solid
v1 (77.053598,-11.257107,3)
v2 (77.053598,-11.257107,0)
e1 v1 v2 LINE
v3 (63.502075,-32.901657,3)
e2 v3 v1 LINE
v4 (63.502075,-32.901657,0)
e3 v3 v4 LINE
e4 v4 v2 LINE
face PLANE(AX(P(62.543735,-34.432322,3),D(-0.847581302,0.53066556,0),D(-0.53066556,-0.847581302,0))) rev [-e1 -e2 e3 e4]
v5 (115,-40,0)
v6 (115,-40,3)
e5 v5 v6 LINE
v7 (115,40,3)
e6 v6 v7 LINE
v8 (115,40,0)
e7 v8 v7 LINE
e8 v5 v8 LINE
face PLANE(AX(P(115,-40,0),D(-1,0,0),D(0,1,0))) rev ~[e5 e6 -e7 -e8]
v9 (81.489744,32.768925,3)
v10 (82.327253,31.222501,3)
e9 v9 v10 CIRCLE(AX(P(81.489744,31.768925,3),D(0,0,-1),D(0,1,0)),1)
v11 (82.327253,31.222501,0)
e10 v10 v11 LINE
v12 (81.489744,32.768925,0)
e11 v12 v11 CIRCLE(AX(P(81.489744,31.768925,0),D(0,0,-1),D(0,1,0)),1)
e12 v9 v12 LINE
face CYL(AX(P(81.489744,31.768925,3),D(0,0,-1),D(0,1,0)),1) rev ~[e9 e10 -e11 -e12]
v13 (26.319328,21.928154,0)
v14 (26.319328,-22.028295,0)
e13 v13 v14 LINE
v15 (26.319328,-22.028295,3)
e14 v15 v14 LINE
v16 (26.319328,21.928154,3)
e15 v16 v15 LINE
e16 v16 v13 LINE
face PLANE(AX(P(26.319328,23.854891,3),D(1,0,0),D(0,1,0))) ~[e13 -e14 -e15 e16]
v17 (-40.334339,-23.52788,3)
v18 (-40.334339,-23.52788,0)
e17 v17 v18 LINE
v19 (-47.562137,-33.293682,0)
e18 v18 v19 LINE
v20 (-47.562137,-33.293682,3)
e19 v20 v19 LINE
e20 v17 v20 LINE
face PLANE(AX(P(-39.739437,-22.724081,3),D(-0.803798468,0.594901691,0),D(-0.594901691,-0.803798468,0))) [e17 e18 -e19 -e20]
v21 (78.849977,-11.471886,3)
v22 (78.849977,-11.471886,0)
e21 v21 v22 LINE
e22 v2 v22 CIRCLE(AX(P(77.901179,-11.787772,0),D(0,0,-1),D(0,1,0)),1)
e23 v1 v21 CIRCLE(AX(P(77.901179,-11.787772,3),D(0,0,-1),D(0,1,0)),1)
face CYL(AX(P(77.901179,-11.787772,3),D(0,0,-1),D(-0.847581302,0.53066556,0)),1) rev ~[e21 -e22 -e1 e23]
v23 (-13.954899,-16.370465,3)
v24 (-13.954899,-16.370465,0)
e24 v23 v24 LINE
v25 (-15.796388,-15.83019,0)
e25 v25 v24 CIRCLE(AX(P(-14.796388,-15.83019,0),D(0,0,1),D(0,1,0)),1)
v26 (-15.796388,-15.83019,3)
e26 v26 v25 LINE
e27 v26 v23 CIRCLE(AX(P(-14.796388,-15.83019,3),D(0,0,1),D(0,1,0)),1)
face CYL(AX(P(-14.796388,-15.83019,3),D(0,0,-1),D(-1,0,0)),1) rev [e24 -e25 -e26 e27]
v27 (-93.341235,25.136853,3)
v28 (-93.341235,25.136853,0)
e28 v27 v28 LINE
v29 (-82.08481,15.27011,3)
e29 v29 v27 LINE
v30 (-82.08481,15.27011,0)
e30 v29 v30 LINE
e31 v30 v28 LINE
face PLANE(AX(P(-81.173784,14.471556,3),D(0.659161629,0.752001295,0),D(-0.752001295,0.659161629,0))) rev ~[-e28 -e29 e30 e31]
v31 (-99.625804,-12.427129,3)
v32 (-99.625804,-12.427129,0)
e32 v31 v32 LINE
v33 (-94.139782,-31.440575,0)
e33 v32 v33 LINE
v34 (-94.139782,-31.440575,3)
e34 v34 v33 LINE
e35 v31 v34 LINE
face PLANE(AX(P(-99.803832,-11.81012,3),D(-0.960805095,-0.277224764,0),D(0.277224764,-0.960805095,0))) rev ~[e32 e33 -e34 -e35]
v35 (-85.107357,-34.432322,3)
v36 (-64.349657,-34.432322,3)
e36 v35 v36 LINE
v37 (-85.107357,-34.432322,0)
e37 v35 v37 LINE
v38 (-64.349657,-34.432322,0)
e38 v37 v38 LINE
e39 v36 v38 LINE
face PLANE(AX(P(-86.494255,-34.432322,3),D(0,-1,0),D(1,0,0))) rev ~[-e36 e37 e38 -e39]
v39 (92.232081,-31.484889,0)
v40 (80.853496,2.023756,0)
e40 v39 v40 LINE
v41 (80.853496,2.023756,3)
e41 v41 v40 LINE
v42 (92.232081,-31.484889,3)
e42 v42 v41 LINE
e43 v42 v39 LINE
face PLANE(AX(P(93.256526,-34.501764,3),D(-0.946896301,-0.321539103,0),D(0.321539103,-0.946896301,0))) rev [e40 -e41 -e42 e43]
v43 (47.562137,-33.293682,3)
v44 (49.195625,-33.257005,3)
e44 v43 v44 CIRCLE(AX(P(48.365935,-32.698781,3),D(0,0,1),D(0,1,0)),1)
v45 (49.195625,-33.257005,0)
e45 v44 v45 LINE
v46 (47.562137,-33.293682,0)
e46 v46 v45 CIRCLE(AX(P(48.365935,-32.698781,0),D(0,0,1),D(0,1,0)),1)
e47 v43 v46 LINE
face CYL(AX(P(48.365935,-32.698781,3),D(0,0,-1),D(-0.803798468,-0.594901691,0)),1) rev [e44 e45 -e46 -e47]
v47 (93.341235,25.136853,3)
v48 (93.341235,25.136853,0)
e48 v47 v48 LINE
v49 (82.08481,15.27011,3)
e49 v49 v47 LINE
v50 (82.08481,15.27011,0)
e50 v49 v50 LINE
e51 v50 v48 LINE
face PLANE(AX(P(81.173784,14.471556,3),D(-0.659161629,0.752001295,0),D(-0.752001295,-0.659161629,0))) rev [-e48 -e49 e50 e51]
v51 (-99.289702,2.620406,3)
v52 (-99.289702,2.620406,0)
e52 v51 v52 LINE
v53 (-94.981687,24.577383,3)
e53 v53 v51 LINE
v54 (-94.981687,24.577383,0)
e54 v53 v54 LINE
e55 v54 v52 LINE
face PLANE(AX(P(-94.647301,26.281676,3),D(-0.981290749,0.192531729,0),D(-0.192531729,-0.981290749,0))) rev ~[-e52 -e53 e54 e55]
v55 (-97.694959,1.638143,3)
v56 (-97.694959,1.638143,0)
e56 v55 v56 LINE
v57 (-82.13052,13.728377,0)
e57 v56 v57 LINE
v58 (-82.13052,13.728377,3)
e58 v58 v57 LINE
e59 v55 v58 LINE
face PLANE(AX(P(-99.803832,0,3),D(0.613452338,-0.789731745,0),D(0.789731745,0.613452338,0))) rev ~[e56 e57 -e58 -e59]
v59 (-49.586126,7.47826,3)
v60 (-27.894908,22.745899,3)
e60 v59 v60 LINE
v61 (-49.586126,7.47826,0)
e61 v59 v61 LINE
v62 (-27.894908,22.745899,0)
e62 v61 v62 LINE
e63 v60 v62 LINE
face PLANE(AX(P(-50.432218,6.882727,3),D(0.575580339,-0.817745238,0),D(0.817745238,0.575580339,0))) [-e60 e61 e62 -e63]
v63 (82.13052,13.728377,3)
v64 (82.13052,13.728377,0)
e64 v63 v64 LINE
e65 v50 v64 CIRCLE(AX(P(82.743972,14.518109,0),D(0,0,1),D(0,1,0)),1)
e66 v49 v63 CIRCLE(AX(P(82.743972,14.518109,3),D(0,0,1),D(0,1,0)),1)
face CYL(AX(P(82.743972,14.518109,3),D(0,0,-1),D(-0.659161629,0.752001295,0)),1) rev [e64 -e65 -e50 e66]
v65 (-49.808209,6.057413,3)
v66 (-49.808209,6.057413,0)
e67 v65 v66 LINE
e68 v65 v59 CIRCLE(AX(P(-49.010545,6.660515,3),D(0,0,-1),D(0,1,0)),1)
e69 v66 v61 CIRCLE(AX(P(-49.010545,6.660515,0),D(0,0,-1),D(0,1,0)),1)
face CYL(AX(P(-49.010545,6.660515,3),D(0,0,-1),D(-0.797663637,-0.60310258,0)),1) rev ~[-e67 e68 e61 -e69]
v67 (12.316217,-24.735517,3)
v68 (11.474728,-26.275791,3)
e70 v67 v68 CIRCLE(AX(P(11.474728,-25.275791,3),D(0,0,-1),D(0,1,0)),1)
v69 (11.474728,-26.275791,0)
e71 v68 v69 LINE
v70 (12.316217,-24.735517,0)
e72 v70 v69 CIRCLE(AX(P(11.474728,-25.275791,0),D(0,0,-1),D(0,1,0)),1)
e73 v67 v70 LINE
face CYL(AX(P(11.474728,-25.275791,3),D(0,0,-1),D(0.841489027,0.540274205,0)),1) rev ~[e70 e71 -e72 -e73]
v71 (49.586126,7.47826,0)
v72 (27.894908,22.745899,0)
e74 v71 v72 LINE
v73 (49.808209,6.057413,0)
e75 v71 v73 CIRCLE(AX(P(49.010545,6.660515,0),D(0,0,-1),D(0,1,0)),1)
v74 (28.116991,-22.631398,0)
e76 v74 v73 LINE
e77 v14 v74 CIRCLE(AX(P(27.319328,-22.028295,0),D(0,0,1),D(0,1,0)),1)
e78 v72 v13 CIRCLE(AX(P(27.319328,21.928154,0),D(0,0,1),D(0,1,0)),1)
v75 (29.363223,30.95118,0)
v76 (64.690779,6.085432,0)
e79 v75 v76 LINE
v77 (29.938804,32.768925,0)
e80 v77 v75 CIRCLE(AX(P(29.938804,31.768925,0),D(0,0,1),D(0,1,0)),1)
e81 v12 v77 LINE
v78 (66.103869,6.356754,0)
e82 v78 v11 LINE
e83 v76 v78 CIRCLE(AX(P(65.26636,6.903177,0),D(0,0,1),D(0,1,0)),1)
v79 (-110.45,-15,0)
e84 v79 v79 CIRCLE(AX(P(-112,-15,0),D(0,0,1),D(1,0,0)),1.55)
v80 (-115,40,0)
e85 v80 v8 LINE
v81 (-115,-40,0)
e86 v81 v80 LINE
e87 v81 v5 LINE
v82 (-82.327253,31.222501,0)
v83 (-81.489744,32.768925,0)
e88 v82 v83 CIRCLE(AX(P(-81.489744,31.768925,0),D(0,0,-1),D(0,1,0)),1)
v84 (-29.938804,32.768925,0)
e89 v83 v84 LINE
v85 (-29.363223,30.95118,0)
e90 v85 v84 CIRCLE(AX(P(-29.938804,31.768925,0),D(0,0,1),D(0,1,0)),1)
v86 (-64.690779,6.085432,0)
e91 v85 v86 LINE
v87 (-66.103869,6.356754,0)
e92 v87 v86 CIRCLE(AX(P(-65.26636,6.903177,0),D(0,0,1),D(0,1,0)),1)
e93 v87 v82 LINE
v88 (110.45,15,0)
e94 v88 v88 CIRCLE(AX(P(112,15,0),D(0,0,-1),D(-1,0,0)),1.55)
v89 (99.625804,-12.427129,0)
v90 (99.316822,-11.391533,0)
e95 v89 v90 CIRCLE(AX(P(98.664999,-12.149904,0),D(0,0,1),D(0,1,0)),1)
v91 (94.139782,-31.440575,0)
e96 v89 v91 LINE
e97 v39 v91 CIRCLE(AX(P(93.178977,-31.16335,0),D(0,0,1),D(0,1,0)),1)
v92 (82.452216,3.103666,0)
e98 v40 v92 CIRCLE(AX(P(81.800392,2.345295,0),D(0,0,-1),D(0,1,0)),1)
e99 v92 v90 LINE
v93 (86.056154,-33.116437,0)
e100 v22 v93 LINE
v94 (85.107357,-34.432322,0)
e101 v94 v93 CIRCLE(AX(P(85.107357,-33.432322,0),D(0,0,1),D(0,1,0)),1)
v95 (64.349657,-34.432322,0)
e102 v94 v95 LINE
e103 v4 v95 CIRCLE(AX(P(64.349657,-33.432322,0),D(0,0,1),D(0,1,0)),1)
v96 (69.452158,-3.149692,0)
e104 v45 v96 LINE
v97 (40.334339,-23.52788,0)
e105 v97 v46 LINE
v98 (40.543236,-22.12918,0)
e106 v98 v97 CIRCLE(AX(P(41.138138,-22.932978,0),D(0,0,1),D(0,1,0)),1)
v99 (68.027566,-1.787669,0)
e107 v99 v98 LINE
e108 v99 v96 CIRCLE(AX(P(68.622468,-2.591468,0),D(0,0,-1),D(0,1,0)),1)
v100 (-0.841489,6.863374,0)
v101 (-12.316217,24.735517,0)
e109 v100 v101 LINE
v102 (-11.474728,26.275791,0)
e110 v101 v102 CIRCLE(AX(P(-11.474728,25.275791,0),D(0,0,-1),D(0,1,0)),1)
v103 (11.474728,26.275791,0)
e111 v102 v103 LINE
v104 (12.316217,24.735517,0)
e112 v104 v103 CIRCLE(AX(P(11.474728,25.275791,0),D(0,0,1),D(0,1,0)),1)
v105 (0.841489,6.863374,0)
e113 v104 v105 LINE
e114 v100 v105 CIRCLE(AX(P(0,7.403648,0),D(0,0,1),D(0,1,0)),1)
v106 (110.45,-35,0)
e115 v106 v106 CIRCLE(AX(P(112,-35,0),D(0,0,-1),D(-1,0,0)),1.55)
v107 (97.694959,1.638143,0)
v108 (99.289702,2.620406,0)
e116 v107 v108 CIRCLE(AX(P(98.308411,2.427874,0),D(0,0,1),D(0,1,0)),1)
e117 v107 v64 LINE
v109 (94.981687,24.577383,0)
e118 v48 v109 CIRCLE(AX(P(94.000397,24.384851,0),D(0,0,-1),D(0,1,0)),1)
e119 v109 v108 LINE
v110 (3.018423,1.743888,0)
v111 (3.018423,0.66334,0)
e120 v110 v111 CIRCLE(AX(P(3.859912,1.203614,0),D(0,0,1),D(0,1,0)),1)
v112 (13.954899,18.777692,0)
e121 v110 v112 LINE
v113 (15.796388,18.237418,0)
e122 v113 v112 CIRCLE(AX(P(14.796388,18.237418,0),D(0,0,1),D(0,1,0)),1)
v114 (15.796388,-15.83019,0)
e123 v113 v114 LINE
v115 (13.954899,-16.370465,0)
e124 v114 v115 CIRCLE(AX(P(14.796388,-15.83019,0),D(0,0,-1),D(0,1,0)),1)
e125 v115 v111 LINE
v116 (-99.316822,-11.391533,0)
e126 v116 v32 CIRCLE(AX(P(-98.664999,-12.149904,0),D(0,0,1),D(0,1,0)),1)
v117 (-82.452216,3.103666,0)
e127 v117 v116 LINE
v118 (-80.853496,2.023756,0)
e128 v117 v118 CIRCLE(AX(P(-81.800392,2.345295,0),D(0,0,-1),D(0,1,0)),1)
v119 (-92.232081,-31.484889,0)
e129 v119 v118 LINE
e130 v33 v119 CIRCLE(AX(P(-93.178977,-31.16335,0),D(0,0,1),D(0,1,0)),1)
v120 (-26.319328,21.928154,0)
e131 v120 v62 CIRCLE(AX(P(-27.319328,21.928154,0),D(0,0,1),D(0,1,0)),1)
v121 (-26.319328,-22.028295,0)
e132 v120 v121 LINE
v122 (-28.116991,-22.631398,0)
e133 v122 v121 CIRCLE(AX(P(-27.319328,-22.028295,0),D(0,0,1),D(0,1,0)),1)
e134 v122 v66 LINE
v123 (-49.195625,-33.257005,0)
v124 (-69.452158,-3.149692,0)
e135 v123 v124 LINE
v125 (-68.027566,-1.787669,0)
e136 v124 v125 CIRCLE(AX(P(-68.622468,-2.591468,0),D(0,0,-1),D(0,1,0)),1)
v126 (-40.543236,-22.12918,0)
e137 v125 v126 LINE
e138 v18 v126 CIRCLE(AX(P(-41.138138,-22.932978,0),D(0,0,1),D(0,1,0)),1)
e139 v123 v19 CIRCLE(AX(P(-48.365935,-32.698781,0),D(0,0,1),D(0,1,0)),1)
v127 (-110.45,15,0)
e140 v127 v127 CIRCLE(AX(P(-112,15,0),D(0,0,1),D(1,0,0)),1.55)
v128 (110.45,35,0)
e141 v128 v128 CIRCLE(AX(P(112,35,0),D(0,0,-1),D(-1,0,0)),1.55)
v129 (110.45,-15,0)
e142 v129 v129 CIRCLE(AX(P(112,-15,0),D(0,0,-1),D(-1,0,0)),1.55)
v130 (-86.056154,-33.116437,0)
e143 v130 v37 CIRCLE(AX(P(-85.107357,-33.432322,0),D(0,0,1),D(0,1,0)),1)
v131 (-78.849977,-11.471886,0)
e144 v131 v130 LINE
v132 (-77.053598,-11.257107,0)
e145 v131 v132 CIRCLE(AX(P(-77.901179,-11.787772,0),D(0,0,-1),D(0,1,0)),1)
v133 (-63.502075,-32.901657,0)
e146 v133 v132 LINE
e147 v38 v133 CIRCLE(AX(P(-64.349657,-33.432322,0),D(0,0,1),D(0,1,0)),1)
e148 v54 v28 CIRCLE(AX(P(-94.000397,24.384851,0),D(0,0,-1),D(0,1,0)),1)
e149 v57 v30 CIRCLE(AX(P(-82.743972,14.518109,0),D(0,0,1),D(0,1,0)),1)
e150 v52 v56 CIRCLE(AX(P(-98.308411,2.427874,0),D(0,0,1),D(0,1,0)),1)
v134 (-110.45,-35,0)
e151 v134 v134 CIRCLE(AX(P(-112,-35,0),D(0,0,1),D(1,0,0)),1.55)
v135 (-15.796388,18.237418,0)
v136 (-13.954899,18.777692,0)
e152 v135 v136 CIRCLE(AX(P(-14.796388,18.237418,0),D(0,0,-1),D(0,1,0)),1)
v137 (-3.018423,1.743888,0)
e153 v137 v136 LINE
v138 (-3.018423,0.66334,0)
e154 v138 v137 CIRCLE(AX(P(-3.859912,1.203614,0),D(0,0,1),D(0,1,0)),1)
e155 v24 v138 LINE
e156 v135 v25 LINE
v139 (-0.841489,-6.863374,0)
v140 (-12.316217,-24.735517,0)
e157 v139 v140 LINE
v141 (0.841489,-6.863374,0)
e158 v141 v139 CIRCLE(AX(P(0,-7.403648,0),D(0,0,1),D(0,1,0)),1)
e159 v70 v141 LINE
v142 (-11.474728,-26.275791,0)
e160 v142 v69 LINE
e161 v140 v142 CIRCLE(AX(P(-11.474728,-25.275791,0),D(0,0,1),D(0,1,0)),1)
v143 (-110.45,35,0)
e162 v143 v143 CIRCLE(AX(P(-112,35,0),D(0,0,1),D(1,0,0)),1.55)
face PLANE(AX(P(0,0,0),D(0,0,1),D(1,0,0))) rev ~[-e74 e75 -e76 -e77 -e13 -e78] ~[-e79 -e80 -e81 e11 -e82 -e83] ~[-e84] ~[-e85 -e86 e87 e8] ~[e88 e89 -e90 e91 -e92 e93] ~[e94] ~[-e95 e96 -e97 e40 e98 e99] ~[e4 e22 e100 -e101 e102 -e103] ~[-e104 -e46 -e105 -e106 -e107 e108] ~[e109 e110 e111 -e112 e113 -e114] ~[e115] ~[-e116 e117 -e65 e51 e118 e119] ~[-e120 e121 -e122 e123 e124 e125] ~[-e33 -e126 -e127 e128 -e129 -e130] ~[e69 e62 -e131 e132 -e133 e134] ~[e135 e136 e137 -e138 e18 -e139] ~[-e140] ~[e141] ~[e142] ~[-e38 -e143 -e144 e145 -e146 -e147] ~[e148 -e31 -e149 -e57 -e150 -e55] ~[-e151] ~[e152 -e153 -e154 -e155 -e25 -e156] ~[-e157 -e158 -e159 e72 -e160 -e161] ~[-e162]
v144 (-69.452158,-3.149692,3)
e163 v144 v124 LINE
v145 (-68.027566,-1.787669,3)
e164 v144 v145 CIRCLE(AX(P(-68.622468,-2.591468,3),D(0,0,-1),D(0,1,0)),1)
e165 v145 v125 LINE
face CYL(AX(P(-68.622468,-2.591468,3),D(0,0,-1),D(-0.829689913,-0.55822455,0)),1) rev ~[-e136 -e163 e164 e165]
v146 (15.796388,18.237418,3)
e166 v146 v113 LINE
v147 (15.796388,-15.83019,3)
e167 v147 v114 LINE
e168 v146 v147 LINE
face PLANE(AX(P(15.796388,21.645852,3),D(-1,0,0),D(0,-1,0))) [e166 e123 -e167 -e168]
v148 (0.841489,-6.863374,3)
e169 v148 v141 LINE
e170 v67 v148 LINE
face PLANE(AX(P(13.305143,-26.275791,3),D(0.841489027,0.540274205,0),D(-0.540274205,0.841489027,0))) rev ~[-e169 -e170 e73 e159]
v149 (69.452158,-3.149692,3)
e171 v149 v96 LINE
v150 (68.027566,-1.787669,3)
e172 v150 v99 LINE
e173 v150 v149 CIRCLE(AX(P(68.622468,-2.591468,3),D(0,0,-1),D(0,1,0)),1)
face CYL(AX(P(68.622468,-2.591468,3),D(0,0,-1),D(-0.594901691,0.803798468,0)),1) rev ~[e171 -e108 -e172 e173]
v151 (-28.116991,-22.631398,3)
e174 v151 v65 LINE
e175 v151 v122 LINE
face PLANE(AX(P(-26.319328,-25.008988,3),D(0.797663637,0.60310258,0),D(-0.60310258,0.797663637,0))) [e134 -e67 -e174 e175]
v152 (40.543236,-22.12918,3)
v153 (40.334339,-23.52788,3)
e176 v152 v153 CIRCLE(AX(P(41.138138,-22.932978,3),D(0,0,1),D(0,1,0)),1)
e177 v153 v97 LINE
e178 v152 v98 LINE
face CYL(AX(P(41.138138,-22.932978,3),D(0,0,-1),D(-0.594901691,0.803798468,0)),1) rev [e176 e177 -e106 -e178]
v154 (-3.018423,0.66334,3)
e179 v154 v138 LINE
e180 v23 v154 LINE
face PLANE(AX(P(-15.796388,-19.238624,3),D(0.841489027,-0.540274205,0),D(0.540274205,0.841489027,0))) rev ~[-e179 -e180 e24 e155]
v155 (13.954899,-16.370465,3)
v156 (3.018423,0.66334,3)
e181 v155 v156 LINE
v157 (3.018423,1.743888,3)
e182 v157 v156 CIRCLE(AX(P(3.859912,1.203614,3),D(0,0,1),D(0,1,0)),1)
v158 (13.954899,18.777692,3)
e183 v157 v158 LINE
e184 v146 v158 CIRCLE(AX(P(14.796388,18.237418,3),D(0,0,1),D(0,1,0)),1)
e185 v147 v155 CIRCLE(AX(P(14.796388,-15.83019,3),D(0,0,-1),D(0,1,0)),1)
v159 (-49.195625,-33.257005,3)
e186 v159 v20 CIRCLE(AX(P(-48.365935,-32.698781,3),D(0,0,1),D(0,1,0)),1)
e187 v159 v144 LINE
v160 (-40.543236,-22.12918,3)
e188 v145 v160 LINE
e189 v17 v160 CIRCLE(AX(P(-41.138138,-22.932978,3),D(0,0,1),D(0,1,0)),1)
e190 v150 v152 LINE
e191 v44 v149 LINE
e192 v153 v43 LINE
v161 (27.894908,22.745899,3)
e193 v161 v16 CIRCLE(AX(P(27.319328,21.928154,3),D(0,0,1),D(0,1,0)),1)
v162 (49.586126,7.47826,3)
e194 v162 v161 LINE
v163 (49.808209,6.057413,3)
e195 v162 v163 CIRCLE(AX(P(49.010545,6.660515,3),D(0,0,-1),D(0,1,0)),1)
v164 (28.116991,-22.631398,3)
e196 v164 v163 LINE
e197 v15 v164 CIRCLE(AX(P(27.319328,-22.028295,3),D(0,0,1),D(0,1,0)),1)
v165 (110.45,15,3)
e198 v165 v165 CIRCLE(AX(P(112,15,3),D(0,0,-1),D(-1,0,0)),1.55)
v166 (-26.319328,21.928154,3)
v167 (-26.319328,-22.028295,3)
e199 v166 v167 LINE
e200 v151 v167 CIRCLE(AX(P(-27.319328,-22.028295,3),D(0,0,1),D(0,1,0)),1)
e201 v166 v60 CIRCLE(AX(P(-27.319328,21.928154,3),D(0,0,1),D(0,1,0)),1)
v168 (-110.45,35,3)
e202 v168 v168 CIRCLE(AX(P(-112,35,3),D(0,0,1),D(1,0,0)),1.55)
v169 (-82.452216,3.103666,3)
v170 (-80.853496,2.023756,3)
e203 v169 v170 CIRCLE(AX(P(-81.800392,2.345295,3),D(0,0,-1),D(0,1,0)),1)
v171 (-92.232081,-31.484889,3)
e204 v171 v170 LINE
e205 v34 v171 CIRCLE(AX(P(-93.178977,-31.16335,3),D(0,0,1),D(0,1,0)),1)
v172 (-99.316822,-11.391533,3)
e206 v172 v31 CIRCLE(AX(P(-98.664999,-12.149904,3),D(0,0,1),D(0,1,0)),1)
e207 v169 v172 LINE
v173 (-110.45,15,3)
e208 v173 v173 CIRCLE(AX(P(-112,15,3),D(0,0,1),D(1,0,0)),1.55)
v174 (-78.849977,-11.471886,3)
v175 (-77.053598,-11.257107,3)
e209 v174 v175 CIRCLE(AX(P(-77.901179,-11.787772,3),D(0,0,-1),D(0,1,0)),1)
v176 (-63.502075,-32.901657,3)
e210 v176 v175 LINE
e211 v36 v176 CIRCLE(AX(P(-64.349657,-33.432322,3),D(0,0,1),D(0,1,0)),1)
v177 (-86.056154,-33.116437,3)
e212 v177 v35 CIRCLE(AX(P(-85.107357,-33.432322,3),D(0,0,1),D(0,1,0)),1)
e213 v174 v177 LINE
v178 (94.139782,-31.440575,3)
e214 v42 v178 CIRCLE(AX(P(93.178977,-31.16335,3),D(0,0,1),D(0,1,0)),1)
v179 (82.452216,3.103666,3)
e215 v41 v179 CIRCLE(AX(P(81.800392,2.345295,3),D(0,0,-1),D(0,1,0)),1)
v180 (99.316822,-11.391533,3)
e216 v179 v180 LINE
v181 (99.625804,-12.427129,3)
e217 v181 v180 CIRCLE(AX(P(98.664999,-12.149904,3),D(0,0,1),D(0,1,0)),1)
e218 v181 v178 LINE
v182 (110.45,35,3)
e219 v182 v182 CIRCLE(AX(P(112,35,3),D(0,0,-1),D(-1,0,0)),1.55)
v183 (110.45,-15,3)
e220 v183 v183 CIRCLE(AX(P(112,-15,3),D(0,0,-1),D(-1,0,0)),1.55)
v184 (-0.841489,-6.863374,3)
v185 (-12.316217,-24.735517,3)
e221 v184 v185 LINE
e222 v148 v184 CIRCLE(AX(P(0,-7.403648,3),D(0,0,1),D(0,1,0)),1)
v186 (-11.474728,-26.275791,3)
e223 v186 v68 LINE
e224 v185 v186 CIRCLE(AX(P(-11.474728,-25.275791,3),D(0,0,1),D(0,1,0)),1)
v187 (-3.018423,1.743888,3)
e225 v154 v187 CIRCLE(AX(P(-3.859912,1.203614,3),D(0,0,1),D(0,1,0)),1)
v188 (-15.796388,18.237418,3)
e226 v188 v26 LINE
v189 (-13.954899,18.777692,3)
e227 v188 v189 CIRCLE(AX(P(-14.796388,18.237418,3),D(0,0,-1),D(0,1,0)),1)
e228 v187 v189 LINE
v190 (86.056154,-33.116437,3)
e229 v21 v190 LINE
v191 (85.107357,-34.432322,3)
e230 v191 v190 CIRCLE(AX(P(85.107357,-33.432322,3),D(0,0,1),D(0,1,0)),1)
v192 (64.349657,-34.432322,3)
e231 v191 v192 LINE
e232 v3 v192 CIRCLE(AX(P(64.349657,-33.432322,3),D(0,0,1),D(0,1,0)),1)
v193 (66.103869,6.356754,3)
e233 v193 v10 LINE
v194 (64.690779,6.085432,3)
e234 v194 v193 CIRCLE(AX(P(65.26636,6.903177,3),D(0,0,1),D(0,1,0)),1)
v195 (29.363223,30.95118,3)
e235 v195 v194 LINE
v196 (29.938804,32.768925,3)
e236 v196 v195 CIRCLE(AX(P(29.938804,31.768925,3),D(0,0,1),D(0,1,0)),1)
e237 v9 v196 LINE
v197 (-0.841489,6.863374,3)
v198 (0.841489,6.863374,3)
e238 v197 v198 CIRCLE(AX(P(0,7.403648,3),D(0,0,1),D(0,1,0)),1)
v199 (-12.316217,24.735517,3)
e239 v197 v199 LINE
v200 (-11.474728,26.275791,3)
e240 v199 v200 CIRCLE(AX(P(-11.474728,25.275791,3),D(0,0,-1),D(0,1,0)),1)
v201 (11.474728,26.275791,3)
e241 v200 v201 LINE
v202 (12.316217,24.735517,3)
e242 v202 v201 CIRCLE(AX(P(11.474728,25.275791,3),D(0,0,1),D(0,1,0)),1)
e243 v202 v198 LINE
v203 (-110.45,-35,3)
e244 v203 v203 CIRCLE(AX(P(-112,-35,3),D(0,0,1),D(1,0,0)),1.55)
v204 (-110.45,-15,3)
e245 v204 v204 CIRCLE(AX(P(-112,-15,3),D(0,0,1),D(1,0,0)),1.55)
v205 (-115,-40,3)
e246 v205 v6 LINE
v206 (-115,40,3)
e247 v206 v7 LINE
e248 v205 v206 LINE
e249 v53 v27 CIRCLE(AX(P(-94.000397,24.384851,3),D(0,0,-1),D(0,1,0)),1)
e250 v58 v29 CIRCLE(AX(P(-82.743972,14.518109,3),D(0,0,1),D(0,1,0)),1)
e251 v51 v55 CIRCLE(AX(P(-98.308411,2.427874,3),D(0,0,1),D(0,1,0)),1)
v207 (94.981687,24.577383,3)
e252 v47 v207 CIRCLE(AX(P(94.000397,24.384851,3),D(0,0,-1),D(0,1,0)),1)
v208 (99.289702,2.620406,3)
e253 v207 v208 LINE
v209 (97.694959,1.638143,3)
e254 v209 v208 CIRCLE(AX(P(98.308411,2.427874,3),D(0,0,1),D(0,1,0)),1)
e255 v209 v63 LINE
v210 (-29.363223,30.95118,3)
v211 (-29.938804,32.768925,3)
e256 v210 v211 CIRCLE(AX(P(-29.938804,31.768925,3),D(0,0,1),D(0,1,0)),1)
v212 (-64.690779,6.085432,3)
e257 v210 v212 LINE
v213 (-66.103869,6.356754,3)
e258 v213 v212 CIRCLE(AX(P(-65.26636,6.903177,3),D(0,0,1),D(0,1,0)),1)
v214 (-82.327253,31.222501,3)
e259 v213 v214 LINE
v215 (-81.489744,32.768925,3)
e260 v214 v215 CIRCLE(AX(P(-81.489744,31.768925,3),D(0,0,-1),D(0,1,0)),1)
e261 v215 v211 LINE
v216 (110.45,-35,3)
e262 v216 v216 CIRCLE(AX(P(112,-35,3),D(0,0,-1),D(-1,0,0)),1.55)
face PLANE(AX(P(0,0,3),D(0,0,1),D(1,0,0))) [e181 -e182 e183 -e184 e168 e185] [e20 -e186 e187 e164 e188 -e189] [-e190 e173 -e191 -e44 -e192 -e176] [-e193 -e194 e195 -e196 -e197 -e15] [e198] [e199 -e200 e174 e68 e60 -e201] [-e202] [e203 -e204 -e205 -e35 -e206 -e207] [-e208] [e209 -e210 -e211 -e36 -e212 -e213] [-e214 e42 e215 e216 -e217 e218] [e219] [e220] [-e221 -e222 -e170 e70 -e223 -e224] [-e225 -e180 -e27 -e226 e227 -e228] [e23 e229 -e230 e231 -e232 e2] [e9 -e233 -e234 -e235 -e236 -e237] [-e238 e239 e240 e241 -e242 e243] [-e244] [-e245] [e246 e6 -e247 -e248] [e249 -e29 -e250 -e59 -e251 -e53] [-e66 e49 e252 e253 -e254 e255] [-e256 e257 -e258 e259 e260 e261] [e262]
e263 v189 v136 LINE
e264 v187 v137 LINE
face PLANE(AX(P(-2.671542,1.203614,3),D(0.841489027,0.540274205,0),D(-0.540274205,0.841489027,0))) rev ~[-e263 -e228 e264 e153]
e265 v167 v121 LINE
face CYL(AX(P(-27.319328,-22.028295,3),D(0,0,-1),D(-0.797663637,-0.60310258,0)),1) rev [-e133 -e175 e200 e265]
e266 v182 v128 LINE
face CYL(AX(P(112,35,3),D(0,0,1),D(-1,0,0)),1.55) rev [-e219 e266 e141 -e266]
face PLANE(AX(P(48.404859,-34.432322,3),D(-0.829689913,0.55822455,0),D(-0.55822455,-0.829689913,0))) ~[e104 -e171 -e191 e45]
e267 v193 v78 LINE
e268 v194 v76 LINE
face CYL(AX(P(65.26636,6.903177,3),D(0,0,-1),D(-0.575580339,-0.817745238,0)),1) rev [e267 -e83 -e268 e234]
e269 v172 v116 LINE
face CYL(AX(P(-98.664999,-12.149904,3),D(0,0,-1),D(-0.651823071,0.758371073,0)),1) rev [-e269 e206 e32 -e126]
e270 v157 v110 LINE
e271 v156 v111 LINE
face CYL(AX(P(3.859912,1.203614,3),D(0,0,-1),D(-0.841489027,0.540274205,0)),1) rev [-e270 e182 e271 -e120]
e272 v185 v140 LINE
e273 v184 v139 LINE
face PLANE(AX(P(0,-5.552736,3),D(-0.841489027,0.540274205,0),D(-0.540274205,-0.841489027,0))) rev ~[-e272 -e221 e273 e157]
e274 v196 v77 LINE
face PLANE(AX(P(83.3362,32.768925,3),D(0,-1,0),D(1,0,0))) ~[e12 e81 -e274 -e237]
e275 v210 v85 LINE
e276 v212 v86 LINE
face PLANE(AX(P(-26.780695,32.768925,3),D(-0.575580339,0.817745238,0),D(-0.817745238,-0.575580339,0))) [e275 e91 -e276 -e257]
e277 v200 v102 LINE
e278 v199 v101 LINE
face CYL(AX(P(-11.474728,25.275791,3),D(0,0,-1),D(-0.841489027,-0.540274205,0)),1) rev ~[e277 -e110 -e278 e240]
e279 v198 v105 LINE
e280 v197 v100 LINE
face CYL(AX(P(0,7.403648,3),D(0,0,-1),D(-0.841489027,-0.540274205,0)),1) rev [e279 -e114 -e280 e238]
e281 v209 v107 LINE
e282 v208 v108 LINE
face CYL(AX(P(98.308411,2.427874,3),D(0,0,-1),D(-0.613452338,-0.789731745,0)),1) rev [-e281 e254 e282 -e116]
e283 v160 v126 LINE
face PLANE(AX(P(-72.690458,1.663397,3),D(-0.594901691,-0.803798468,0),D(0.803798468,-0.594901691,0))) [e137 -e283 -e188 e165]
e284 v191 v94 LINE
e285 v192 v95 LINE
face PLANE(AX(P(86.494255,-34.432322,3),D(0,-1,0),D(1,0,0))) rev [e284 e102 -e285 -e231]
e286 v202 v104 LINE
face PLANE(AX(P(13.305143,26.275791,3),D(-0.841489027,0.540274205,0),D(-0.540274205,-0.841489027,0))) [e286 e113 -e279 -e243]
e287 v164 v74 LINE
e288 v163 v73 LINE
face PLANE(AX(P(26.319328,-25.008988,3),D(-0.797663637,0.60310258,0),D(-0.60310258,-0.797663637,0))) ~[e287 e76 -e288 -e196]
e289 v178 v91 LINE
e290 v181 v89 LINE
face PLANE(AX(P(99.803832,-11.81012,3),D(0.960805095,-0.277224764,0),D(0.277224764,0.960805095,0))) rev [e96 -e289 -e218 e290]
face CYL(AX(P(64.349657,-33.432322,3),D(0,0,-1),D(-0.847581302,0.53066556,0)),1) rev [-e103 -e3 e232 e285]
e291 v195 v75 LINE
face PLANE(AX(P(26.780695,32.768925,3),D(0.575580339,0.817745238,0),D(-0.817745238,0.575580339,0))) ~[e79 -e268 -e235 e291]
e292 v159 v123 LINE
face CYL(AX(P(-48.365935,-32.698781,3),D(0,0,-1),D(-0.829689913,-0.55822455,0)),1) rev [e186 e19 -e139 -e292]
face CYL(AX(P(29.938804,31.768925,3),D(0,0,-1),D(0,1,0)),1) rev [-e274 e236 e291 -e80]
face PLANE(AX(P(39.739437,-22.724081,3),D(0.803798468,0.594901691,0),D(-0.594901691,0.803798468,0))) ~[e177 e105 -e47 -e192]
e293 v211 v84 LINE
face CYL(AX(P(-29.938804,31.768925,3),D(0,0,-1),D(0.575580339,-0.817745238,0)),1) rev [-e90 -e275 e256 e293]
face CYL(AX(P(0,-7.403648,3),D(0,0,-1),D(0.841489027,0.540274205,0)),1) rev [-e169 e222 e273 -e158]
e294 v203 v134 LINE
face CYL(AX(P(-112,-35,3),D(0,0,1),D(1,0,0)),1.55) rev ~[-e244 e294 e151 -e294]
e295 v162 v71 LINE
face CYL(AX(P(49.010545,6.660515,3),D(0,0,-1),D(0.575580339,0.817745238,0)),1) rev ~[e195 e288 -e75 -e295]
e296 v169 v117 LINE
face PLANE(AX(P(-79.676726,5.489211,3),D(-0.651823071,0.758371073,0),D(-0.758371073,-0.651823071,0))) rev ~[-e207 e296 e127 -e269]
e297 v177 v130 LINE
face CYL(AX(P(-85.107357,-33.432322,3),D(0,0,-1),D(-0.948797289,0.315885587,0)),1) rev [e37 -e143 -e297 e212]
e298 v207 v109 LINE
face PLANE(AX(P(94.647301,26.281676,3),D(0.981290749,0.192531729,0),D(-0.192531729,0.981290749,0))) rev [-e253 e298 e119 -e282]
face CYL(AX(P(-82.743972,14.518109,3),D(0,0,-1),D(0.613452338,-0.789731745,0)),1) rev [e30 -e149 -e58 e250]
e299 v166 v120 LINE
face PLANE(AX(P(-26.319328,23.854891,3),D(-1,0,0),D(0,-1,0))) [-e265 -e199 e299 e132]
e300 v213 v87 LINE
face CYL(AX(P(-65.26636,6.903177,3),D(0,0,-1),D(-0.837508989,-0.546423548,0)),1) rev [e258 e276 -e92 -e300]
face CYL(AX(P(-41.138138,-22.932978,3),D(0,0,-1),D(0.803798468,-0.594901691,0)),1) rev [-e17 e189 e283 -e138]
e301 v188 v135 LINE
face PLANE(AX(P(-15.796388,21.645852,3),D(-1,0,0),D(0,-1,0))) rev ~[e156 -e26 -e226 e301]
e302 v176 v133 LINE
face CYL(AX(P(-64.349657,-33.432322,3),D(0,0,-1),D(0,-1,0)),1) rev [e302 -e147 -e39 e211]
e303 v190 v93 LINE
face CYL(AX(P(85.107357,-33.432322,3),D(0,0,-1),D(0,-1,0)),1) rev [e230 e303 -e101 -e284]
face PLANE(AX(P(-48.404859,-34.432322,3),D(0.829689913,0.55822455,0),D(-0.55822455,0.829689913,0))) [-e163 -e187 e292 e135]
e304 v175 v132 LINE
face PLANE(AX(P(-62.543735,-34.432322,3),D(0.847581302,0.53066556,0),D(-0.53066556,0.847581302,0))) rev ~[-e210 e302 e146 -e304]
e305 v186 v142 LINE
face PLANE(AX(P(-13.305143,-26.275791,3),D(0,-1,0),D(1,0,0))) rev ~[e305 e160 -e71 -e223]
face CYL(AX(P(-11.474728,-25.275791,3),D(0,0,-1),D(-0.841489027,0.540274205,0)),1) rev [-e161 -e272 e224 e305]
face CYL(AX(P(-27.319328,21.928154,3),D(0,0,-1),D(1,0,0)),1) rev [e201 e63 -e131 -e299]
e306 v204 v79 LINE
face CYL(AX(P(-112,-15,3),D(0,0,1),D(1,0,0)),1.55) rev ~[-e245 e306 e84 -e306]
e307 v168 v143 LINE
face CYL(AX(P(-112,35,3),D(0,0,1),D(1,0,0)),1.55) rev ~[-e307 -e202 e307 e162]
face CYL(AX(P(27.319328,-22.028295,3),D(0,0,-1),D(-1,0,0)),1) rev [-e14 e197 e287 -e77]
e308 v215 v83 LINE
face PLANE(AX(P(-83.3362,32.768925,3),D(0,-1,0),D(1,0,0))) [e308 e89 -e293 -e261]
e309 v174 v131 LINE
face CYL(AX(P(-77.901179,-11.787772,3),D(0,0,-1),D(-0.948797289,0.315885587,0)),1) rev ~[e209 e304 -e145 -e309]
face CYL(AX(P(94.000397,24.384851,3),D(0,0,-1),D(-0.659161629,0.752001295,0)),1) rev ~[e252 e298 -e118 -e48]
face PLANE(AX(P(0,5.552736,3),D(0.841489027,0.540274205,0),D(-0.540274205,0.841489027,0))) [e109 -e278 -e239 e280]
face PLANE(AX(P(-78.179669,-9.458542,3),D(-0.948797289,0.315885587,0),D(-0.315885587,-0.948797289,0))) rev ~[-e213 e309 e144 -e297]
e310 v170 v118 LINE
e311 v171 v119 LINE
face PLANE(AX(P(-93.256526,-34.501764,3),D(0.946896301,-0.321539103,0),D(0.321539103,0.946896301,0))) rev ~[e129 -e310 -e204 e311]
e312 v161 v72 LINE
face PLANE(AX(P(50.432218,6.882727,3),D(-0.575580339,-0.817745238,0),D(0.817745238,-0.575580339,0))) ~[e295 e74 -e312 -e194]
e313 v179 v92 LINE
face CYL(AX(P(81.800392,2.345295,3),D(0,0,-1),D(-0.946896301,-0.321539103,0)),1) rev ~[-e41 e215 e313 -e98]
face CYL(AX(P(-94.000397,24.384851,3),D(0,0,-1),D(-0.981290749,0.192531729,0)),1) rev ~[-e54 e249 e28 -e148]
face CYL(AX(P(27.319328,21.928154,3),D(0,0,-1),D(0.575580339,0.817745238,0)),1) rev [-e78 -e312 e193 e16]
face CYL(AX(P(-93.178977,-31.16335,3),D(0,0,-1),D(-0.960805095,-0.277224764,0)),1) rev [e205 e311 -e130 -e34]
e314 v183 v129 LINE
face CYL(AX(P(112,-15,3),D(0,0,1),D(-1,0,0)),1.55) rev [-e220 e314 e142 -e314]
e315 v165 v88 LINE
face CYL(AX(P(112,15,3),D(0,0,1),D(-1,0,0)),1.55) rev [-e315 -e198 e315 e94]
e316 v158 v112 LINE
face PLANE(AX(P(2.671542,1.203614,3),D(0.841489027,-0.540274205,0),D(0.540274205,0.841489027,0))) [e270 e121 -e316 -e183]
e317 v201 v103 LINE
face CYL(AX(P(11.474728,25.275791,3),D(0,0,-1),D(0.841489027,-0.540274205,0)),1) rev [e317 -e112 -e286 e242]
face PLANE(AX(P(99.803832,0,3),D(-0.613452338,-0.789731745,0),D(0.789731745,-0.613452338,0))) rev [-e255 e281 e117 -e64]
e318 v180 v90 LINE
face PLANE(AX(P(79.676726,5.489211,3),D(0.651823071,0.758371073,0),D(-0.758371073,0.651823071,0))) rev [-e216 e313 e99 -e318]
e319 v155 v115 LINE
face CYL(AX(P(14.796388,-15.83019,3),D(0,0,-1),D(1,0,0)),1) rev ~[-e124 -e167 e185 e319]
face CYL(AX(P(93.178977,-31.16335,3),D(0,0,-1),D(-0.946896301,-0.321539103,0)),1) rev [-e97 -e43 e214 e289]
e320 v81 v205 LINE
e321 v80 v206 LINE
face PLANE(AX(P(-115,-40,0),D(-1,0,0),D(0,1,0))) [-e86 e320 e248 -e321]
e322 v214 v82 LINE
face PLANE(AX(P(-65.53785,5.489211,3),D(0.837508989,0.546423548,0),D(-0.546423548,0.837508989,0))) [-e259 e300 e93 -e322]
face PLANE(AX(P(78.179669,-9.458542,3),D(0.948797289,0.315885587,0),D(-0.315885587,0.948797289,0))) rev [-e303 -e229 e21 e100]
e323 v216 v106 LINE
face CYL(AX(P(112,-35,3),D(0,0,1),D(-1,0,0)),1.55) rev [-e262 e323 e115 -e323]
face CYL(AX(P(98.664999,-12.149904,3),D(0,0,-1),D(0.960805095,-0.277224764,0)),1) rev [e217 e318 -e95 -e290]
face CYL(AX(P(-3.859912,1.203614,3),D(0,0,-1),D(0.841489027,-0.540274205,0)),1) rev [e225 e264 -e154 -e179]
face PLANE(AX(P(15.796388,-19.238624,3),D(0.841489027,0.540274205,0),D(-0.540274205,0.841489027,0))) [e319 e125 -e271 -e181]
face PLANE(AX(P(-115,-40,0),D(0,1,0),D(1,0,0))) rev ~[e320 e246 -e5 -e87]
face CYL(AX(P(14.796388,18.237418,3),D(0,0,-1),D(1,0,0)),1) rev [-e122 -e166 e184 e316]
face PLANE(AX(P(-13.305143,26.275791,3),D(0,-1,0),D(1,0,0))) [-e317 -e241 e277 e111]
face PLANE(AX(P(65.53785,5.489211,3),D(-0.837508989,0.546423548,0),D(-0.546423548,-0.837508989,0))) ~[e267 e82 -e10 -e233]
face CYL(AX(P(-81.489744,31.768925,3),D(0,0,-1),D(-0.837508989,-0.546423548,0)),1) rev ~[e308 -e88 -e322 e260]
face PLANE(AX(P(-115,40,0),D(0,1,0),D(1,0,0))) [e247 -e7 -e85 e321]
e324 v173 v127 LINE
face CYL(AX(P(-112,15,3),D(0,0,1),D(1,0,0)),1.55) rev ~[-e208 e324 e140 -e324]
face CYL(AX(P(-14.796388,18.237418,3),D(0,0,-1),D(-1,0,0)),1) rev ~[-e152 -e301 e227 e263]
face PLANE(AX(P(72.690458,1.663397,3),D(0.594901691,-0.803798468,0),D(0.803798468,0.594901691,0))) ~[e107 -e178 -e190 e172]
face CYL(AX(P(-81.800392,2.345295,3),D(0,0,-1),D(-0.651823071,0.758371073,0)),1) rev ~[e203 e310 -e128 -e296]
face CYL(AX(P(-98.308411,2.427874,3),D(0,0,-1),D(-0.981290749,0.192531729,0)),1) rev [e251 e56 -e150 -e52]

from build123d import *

# Parameters (mm, degrees)
SKETCH_1_W             = 230
SKETCH_1_H             = 80
EXTRUDE_1_DEPTH        = 3
SKETCH_2_R             = 1.55
CUT_EXTRUDE_1_DEPTH    = 3
CUT_EXTRUDE_3_DEPTH    = 3
FILLET_1_R             = 1
CUT_EXTRUDE_4_DEPTH    = 3
FILLET_2_R             = 1
FILLET_2_OF_MIRROR_2_R = 1


with BuildPart() as part:
    # 草图1 → 凸台-拉伸1 (new body)
    with BuildSketch(Plane.XY):
        Rectangle(SKETCH_1_W, SKETCH_1_H)
    extrude(amount=EXTRUDE_1_DEPTH)

    # 草图2 → 切除-拉伸1 (cut)
    with BuildSketch(Plane.XY.offset(3)):
        with Locations((-112, 35)):
            Circle(SKETCH_2_R)
        with Locations((-112, 15)):
            Circle(SKETCH_2_R)
        with Locations((-112, -15)):
            Circle(SKETCH_2_R)
        with Locations((-112, -35)):
            Circle(SKETCH_2_R)
    cut_extrude_1 = extrude(amount=-CUT_EXTRUDE_1_DEPTH, mode=Mode.SUBTRACT)

    # 镜向1: 切除-拉伸1 across plane
    add(cut_extrude_1.mirror(Plane(origin=(0, 0, 0), x_dir=(0, 0, 1), z_dir=(1, 0, 0))), mode=Mode.SUBTRACT)

    # 草图3 → 切除-拉伸3 (cut)
    with BuildSketch(Plane.XY.offset(3)):
        Polygon((-13.305143171, 26.275790798), (13.305143171, 26.275790798), (0, 5.552735947), align=None)
        Polygon((-15.79638841, 21.645852354), (-15.79638841, -19.238624417), (-2.671542174, 1.203613969), align=None)
        Polygon((13.305143171, -26.275790798), (0, -5.552735947), (-13.305143171, -26.275790798), align=None)
        Polygon((15.79638841, -19.238624417), (2.671542174, 1.203613969), (15.79638841, 21.645852354), align=None)
    extrude(amount=-CUT_EXTRUDE_3_DEPTH, mode=Mode.SUBTRACT)

    # 圆角1
    fillet_1_edges = [part.edges().sort_by_distance(p)[0] for p in [
        (13.305143171, -26.275790798, 1.5),
        (-13.305143171, -26.275790798, 1.5),
        (0, -5.552735947, 1.5),
        (-2.671542174, 1.203613969, 1.5),
        (-15.79638841, -19.238624417, 1.5),
        (-15.79638841, 21.645852354, 1.5),
        (15.79638841, 21.645852354, 1.5),
        (15.79638841, -19.238624417, 1.5),
        (2.671542174, 1.203613969, 1.5),
        (13.305143171, 26.275790798, 1.5),
        (0, 5.552735947, 1.5),
        (-13.305143171, 26.275790798, 1.5),
    ]]
    fillet(fillet_1_edges, radius=FILLET_1_R)

    # 草图4 → 切除-拉伸4 (cut)
    with BuildSketch(Plane.XY.offset(3)):
        Polygon((-94.647300932, 26.28167583), (-99.803832265, 0), (-81.173783576, 14.471555678), align=None)
        Polygon((-83.336199942, 32.768924927), (-26.780694991, 32.768924927), (-65.537849854, 5.489210775), align=None)
        Polygon((-79.676726092, 5.489210775), (-99.803832265, -11.810120151), (-93.256525701, -34.501763578), align=None)
        Polygon((-72.690457833, 1.663397204), (-39.739437394, -22.7240812), (-48.404858649, -34.432322132), align=None)
        Polygon((-78.179668608, -9.458541946), (-86.494255189, -34.432322132), (-62.543734886, -34.432322132), align=None)
        Polygon((-50.432218288, 6.882727449), (-26.319327505, 23.854890919), (-26.319327505, -25.008988453), align=None)
    cut_extrude_4 = extrude(amount=-CUT_EXTRUDE_4_DEPTH, mode=Mode.SUBTRACT)

    # 圆角2
    fillet_2_edges = [part.edges().sort_by_distance(p)[0] for p in [
        (-48.404858649, -34.432322132, 1.5),
        (-72.690457833, 1.663397204, 1.5),
        (-39.739437394, -22.7240812, 1.5),
        (-78.179668608, -9.458541946, 1.5),
        (-62.543734886, -34.432322132, 1.5),
        (-86.494255189, -34.432322132, 1.5),
        (-65.537849854, 5.489210775, 1.5),
        (-83.336199942, 32.768924927, 1.5),
        (-26.780694991, 32.768924927, 1.5),
        (-79.676726092, 5.489210775, 1.5),
        (-93.256525701, -34.501763578, 1.5),
        (-99.803832265, -11.810120151, 1.5),
        (-26.319327505, -25.008988453, 1.5),
        (-50.432218288, 6.882727449, 1.5),
        (-26.319327505, 23.854890919, 1.5),
        (-94.647300932, 26.28167583, 1.5),
        (-81.173783576, 14.471555678, 1.5),
        (-99.803832265, 0, 1.5),
    ]]
    fillet(fillet_2_edges, radius=FILLET_2_R)

    # 镜向2: 切除-拉伸4 across plane
    add(cut_extrude_4.mirror(Plane(origin=(0, 0, 0), x_dir=(0, 0, 1), z_dir=(1, 0, 0))), mode=Mode.SUBTRACT)

    # 圆角2 of 镜向2
    fillet_2_of_mirror_2_edges = [part.edges().sort_by_distance(p)[0] for p in [
        (48.404858649, -34.432322132, 1.5),
        (72.690457833, 1.663397204, 1.5),
        (39.739437394, -22.7240812, 1.5),
        (78.179668608, -9.458541946, 1.5),
        (62.543734886, -34.432322132, 1.5),
        (86.494255189, -34.432322132, 1.5),
        (65.537849854, 5.489210775, 1.5),
        (83.336199942, 32.768924927, 1.5),
        (26.780694991, 32.768924927, 1.5),
        (79.676726092, 5.489210775, 1.5),
        (93.256525701, -34.501763578, 1.5),
        (99.803832265, -11.810120151, 1.5),
        (26.319327505, -25.008988453, 1.5),
        (50.432218288, 6.882727449, 1.5),
        (26.319327505, 23.854890919, 1.5),
        (94.647300932, 26.28167583, 1.5),
        (81.173783576, 14.471555678, 1.5),
        (99.803832265, 0, 1.5),
    ]]
    fillet(fillet_2_of_mirror_2_edges, radius=FILLET_2_OF_MIRROR_2_R)


solid = part.part
